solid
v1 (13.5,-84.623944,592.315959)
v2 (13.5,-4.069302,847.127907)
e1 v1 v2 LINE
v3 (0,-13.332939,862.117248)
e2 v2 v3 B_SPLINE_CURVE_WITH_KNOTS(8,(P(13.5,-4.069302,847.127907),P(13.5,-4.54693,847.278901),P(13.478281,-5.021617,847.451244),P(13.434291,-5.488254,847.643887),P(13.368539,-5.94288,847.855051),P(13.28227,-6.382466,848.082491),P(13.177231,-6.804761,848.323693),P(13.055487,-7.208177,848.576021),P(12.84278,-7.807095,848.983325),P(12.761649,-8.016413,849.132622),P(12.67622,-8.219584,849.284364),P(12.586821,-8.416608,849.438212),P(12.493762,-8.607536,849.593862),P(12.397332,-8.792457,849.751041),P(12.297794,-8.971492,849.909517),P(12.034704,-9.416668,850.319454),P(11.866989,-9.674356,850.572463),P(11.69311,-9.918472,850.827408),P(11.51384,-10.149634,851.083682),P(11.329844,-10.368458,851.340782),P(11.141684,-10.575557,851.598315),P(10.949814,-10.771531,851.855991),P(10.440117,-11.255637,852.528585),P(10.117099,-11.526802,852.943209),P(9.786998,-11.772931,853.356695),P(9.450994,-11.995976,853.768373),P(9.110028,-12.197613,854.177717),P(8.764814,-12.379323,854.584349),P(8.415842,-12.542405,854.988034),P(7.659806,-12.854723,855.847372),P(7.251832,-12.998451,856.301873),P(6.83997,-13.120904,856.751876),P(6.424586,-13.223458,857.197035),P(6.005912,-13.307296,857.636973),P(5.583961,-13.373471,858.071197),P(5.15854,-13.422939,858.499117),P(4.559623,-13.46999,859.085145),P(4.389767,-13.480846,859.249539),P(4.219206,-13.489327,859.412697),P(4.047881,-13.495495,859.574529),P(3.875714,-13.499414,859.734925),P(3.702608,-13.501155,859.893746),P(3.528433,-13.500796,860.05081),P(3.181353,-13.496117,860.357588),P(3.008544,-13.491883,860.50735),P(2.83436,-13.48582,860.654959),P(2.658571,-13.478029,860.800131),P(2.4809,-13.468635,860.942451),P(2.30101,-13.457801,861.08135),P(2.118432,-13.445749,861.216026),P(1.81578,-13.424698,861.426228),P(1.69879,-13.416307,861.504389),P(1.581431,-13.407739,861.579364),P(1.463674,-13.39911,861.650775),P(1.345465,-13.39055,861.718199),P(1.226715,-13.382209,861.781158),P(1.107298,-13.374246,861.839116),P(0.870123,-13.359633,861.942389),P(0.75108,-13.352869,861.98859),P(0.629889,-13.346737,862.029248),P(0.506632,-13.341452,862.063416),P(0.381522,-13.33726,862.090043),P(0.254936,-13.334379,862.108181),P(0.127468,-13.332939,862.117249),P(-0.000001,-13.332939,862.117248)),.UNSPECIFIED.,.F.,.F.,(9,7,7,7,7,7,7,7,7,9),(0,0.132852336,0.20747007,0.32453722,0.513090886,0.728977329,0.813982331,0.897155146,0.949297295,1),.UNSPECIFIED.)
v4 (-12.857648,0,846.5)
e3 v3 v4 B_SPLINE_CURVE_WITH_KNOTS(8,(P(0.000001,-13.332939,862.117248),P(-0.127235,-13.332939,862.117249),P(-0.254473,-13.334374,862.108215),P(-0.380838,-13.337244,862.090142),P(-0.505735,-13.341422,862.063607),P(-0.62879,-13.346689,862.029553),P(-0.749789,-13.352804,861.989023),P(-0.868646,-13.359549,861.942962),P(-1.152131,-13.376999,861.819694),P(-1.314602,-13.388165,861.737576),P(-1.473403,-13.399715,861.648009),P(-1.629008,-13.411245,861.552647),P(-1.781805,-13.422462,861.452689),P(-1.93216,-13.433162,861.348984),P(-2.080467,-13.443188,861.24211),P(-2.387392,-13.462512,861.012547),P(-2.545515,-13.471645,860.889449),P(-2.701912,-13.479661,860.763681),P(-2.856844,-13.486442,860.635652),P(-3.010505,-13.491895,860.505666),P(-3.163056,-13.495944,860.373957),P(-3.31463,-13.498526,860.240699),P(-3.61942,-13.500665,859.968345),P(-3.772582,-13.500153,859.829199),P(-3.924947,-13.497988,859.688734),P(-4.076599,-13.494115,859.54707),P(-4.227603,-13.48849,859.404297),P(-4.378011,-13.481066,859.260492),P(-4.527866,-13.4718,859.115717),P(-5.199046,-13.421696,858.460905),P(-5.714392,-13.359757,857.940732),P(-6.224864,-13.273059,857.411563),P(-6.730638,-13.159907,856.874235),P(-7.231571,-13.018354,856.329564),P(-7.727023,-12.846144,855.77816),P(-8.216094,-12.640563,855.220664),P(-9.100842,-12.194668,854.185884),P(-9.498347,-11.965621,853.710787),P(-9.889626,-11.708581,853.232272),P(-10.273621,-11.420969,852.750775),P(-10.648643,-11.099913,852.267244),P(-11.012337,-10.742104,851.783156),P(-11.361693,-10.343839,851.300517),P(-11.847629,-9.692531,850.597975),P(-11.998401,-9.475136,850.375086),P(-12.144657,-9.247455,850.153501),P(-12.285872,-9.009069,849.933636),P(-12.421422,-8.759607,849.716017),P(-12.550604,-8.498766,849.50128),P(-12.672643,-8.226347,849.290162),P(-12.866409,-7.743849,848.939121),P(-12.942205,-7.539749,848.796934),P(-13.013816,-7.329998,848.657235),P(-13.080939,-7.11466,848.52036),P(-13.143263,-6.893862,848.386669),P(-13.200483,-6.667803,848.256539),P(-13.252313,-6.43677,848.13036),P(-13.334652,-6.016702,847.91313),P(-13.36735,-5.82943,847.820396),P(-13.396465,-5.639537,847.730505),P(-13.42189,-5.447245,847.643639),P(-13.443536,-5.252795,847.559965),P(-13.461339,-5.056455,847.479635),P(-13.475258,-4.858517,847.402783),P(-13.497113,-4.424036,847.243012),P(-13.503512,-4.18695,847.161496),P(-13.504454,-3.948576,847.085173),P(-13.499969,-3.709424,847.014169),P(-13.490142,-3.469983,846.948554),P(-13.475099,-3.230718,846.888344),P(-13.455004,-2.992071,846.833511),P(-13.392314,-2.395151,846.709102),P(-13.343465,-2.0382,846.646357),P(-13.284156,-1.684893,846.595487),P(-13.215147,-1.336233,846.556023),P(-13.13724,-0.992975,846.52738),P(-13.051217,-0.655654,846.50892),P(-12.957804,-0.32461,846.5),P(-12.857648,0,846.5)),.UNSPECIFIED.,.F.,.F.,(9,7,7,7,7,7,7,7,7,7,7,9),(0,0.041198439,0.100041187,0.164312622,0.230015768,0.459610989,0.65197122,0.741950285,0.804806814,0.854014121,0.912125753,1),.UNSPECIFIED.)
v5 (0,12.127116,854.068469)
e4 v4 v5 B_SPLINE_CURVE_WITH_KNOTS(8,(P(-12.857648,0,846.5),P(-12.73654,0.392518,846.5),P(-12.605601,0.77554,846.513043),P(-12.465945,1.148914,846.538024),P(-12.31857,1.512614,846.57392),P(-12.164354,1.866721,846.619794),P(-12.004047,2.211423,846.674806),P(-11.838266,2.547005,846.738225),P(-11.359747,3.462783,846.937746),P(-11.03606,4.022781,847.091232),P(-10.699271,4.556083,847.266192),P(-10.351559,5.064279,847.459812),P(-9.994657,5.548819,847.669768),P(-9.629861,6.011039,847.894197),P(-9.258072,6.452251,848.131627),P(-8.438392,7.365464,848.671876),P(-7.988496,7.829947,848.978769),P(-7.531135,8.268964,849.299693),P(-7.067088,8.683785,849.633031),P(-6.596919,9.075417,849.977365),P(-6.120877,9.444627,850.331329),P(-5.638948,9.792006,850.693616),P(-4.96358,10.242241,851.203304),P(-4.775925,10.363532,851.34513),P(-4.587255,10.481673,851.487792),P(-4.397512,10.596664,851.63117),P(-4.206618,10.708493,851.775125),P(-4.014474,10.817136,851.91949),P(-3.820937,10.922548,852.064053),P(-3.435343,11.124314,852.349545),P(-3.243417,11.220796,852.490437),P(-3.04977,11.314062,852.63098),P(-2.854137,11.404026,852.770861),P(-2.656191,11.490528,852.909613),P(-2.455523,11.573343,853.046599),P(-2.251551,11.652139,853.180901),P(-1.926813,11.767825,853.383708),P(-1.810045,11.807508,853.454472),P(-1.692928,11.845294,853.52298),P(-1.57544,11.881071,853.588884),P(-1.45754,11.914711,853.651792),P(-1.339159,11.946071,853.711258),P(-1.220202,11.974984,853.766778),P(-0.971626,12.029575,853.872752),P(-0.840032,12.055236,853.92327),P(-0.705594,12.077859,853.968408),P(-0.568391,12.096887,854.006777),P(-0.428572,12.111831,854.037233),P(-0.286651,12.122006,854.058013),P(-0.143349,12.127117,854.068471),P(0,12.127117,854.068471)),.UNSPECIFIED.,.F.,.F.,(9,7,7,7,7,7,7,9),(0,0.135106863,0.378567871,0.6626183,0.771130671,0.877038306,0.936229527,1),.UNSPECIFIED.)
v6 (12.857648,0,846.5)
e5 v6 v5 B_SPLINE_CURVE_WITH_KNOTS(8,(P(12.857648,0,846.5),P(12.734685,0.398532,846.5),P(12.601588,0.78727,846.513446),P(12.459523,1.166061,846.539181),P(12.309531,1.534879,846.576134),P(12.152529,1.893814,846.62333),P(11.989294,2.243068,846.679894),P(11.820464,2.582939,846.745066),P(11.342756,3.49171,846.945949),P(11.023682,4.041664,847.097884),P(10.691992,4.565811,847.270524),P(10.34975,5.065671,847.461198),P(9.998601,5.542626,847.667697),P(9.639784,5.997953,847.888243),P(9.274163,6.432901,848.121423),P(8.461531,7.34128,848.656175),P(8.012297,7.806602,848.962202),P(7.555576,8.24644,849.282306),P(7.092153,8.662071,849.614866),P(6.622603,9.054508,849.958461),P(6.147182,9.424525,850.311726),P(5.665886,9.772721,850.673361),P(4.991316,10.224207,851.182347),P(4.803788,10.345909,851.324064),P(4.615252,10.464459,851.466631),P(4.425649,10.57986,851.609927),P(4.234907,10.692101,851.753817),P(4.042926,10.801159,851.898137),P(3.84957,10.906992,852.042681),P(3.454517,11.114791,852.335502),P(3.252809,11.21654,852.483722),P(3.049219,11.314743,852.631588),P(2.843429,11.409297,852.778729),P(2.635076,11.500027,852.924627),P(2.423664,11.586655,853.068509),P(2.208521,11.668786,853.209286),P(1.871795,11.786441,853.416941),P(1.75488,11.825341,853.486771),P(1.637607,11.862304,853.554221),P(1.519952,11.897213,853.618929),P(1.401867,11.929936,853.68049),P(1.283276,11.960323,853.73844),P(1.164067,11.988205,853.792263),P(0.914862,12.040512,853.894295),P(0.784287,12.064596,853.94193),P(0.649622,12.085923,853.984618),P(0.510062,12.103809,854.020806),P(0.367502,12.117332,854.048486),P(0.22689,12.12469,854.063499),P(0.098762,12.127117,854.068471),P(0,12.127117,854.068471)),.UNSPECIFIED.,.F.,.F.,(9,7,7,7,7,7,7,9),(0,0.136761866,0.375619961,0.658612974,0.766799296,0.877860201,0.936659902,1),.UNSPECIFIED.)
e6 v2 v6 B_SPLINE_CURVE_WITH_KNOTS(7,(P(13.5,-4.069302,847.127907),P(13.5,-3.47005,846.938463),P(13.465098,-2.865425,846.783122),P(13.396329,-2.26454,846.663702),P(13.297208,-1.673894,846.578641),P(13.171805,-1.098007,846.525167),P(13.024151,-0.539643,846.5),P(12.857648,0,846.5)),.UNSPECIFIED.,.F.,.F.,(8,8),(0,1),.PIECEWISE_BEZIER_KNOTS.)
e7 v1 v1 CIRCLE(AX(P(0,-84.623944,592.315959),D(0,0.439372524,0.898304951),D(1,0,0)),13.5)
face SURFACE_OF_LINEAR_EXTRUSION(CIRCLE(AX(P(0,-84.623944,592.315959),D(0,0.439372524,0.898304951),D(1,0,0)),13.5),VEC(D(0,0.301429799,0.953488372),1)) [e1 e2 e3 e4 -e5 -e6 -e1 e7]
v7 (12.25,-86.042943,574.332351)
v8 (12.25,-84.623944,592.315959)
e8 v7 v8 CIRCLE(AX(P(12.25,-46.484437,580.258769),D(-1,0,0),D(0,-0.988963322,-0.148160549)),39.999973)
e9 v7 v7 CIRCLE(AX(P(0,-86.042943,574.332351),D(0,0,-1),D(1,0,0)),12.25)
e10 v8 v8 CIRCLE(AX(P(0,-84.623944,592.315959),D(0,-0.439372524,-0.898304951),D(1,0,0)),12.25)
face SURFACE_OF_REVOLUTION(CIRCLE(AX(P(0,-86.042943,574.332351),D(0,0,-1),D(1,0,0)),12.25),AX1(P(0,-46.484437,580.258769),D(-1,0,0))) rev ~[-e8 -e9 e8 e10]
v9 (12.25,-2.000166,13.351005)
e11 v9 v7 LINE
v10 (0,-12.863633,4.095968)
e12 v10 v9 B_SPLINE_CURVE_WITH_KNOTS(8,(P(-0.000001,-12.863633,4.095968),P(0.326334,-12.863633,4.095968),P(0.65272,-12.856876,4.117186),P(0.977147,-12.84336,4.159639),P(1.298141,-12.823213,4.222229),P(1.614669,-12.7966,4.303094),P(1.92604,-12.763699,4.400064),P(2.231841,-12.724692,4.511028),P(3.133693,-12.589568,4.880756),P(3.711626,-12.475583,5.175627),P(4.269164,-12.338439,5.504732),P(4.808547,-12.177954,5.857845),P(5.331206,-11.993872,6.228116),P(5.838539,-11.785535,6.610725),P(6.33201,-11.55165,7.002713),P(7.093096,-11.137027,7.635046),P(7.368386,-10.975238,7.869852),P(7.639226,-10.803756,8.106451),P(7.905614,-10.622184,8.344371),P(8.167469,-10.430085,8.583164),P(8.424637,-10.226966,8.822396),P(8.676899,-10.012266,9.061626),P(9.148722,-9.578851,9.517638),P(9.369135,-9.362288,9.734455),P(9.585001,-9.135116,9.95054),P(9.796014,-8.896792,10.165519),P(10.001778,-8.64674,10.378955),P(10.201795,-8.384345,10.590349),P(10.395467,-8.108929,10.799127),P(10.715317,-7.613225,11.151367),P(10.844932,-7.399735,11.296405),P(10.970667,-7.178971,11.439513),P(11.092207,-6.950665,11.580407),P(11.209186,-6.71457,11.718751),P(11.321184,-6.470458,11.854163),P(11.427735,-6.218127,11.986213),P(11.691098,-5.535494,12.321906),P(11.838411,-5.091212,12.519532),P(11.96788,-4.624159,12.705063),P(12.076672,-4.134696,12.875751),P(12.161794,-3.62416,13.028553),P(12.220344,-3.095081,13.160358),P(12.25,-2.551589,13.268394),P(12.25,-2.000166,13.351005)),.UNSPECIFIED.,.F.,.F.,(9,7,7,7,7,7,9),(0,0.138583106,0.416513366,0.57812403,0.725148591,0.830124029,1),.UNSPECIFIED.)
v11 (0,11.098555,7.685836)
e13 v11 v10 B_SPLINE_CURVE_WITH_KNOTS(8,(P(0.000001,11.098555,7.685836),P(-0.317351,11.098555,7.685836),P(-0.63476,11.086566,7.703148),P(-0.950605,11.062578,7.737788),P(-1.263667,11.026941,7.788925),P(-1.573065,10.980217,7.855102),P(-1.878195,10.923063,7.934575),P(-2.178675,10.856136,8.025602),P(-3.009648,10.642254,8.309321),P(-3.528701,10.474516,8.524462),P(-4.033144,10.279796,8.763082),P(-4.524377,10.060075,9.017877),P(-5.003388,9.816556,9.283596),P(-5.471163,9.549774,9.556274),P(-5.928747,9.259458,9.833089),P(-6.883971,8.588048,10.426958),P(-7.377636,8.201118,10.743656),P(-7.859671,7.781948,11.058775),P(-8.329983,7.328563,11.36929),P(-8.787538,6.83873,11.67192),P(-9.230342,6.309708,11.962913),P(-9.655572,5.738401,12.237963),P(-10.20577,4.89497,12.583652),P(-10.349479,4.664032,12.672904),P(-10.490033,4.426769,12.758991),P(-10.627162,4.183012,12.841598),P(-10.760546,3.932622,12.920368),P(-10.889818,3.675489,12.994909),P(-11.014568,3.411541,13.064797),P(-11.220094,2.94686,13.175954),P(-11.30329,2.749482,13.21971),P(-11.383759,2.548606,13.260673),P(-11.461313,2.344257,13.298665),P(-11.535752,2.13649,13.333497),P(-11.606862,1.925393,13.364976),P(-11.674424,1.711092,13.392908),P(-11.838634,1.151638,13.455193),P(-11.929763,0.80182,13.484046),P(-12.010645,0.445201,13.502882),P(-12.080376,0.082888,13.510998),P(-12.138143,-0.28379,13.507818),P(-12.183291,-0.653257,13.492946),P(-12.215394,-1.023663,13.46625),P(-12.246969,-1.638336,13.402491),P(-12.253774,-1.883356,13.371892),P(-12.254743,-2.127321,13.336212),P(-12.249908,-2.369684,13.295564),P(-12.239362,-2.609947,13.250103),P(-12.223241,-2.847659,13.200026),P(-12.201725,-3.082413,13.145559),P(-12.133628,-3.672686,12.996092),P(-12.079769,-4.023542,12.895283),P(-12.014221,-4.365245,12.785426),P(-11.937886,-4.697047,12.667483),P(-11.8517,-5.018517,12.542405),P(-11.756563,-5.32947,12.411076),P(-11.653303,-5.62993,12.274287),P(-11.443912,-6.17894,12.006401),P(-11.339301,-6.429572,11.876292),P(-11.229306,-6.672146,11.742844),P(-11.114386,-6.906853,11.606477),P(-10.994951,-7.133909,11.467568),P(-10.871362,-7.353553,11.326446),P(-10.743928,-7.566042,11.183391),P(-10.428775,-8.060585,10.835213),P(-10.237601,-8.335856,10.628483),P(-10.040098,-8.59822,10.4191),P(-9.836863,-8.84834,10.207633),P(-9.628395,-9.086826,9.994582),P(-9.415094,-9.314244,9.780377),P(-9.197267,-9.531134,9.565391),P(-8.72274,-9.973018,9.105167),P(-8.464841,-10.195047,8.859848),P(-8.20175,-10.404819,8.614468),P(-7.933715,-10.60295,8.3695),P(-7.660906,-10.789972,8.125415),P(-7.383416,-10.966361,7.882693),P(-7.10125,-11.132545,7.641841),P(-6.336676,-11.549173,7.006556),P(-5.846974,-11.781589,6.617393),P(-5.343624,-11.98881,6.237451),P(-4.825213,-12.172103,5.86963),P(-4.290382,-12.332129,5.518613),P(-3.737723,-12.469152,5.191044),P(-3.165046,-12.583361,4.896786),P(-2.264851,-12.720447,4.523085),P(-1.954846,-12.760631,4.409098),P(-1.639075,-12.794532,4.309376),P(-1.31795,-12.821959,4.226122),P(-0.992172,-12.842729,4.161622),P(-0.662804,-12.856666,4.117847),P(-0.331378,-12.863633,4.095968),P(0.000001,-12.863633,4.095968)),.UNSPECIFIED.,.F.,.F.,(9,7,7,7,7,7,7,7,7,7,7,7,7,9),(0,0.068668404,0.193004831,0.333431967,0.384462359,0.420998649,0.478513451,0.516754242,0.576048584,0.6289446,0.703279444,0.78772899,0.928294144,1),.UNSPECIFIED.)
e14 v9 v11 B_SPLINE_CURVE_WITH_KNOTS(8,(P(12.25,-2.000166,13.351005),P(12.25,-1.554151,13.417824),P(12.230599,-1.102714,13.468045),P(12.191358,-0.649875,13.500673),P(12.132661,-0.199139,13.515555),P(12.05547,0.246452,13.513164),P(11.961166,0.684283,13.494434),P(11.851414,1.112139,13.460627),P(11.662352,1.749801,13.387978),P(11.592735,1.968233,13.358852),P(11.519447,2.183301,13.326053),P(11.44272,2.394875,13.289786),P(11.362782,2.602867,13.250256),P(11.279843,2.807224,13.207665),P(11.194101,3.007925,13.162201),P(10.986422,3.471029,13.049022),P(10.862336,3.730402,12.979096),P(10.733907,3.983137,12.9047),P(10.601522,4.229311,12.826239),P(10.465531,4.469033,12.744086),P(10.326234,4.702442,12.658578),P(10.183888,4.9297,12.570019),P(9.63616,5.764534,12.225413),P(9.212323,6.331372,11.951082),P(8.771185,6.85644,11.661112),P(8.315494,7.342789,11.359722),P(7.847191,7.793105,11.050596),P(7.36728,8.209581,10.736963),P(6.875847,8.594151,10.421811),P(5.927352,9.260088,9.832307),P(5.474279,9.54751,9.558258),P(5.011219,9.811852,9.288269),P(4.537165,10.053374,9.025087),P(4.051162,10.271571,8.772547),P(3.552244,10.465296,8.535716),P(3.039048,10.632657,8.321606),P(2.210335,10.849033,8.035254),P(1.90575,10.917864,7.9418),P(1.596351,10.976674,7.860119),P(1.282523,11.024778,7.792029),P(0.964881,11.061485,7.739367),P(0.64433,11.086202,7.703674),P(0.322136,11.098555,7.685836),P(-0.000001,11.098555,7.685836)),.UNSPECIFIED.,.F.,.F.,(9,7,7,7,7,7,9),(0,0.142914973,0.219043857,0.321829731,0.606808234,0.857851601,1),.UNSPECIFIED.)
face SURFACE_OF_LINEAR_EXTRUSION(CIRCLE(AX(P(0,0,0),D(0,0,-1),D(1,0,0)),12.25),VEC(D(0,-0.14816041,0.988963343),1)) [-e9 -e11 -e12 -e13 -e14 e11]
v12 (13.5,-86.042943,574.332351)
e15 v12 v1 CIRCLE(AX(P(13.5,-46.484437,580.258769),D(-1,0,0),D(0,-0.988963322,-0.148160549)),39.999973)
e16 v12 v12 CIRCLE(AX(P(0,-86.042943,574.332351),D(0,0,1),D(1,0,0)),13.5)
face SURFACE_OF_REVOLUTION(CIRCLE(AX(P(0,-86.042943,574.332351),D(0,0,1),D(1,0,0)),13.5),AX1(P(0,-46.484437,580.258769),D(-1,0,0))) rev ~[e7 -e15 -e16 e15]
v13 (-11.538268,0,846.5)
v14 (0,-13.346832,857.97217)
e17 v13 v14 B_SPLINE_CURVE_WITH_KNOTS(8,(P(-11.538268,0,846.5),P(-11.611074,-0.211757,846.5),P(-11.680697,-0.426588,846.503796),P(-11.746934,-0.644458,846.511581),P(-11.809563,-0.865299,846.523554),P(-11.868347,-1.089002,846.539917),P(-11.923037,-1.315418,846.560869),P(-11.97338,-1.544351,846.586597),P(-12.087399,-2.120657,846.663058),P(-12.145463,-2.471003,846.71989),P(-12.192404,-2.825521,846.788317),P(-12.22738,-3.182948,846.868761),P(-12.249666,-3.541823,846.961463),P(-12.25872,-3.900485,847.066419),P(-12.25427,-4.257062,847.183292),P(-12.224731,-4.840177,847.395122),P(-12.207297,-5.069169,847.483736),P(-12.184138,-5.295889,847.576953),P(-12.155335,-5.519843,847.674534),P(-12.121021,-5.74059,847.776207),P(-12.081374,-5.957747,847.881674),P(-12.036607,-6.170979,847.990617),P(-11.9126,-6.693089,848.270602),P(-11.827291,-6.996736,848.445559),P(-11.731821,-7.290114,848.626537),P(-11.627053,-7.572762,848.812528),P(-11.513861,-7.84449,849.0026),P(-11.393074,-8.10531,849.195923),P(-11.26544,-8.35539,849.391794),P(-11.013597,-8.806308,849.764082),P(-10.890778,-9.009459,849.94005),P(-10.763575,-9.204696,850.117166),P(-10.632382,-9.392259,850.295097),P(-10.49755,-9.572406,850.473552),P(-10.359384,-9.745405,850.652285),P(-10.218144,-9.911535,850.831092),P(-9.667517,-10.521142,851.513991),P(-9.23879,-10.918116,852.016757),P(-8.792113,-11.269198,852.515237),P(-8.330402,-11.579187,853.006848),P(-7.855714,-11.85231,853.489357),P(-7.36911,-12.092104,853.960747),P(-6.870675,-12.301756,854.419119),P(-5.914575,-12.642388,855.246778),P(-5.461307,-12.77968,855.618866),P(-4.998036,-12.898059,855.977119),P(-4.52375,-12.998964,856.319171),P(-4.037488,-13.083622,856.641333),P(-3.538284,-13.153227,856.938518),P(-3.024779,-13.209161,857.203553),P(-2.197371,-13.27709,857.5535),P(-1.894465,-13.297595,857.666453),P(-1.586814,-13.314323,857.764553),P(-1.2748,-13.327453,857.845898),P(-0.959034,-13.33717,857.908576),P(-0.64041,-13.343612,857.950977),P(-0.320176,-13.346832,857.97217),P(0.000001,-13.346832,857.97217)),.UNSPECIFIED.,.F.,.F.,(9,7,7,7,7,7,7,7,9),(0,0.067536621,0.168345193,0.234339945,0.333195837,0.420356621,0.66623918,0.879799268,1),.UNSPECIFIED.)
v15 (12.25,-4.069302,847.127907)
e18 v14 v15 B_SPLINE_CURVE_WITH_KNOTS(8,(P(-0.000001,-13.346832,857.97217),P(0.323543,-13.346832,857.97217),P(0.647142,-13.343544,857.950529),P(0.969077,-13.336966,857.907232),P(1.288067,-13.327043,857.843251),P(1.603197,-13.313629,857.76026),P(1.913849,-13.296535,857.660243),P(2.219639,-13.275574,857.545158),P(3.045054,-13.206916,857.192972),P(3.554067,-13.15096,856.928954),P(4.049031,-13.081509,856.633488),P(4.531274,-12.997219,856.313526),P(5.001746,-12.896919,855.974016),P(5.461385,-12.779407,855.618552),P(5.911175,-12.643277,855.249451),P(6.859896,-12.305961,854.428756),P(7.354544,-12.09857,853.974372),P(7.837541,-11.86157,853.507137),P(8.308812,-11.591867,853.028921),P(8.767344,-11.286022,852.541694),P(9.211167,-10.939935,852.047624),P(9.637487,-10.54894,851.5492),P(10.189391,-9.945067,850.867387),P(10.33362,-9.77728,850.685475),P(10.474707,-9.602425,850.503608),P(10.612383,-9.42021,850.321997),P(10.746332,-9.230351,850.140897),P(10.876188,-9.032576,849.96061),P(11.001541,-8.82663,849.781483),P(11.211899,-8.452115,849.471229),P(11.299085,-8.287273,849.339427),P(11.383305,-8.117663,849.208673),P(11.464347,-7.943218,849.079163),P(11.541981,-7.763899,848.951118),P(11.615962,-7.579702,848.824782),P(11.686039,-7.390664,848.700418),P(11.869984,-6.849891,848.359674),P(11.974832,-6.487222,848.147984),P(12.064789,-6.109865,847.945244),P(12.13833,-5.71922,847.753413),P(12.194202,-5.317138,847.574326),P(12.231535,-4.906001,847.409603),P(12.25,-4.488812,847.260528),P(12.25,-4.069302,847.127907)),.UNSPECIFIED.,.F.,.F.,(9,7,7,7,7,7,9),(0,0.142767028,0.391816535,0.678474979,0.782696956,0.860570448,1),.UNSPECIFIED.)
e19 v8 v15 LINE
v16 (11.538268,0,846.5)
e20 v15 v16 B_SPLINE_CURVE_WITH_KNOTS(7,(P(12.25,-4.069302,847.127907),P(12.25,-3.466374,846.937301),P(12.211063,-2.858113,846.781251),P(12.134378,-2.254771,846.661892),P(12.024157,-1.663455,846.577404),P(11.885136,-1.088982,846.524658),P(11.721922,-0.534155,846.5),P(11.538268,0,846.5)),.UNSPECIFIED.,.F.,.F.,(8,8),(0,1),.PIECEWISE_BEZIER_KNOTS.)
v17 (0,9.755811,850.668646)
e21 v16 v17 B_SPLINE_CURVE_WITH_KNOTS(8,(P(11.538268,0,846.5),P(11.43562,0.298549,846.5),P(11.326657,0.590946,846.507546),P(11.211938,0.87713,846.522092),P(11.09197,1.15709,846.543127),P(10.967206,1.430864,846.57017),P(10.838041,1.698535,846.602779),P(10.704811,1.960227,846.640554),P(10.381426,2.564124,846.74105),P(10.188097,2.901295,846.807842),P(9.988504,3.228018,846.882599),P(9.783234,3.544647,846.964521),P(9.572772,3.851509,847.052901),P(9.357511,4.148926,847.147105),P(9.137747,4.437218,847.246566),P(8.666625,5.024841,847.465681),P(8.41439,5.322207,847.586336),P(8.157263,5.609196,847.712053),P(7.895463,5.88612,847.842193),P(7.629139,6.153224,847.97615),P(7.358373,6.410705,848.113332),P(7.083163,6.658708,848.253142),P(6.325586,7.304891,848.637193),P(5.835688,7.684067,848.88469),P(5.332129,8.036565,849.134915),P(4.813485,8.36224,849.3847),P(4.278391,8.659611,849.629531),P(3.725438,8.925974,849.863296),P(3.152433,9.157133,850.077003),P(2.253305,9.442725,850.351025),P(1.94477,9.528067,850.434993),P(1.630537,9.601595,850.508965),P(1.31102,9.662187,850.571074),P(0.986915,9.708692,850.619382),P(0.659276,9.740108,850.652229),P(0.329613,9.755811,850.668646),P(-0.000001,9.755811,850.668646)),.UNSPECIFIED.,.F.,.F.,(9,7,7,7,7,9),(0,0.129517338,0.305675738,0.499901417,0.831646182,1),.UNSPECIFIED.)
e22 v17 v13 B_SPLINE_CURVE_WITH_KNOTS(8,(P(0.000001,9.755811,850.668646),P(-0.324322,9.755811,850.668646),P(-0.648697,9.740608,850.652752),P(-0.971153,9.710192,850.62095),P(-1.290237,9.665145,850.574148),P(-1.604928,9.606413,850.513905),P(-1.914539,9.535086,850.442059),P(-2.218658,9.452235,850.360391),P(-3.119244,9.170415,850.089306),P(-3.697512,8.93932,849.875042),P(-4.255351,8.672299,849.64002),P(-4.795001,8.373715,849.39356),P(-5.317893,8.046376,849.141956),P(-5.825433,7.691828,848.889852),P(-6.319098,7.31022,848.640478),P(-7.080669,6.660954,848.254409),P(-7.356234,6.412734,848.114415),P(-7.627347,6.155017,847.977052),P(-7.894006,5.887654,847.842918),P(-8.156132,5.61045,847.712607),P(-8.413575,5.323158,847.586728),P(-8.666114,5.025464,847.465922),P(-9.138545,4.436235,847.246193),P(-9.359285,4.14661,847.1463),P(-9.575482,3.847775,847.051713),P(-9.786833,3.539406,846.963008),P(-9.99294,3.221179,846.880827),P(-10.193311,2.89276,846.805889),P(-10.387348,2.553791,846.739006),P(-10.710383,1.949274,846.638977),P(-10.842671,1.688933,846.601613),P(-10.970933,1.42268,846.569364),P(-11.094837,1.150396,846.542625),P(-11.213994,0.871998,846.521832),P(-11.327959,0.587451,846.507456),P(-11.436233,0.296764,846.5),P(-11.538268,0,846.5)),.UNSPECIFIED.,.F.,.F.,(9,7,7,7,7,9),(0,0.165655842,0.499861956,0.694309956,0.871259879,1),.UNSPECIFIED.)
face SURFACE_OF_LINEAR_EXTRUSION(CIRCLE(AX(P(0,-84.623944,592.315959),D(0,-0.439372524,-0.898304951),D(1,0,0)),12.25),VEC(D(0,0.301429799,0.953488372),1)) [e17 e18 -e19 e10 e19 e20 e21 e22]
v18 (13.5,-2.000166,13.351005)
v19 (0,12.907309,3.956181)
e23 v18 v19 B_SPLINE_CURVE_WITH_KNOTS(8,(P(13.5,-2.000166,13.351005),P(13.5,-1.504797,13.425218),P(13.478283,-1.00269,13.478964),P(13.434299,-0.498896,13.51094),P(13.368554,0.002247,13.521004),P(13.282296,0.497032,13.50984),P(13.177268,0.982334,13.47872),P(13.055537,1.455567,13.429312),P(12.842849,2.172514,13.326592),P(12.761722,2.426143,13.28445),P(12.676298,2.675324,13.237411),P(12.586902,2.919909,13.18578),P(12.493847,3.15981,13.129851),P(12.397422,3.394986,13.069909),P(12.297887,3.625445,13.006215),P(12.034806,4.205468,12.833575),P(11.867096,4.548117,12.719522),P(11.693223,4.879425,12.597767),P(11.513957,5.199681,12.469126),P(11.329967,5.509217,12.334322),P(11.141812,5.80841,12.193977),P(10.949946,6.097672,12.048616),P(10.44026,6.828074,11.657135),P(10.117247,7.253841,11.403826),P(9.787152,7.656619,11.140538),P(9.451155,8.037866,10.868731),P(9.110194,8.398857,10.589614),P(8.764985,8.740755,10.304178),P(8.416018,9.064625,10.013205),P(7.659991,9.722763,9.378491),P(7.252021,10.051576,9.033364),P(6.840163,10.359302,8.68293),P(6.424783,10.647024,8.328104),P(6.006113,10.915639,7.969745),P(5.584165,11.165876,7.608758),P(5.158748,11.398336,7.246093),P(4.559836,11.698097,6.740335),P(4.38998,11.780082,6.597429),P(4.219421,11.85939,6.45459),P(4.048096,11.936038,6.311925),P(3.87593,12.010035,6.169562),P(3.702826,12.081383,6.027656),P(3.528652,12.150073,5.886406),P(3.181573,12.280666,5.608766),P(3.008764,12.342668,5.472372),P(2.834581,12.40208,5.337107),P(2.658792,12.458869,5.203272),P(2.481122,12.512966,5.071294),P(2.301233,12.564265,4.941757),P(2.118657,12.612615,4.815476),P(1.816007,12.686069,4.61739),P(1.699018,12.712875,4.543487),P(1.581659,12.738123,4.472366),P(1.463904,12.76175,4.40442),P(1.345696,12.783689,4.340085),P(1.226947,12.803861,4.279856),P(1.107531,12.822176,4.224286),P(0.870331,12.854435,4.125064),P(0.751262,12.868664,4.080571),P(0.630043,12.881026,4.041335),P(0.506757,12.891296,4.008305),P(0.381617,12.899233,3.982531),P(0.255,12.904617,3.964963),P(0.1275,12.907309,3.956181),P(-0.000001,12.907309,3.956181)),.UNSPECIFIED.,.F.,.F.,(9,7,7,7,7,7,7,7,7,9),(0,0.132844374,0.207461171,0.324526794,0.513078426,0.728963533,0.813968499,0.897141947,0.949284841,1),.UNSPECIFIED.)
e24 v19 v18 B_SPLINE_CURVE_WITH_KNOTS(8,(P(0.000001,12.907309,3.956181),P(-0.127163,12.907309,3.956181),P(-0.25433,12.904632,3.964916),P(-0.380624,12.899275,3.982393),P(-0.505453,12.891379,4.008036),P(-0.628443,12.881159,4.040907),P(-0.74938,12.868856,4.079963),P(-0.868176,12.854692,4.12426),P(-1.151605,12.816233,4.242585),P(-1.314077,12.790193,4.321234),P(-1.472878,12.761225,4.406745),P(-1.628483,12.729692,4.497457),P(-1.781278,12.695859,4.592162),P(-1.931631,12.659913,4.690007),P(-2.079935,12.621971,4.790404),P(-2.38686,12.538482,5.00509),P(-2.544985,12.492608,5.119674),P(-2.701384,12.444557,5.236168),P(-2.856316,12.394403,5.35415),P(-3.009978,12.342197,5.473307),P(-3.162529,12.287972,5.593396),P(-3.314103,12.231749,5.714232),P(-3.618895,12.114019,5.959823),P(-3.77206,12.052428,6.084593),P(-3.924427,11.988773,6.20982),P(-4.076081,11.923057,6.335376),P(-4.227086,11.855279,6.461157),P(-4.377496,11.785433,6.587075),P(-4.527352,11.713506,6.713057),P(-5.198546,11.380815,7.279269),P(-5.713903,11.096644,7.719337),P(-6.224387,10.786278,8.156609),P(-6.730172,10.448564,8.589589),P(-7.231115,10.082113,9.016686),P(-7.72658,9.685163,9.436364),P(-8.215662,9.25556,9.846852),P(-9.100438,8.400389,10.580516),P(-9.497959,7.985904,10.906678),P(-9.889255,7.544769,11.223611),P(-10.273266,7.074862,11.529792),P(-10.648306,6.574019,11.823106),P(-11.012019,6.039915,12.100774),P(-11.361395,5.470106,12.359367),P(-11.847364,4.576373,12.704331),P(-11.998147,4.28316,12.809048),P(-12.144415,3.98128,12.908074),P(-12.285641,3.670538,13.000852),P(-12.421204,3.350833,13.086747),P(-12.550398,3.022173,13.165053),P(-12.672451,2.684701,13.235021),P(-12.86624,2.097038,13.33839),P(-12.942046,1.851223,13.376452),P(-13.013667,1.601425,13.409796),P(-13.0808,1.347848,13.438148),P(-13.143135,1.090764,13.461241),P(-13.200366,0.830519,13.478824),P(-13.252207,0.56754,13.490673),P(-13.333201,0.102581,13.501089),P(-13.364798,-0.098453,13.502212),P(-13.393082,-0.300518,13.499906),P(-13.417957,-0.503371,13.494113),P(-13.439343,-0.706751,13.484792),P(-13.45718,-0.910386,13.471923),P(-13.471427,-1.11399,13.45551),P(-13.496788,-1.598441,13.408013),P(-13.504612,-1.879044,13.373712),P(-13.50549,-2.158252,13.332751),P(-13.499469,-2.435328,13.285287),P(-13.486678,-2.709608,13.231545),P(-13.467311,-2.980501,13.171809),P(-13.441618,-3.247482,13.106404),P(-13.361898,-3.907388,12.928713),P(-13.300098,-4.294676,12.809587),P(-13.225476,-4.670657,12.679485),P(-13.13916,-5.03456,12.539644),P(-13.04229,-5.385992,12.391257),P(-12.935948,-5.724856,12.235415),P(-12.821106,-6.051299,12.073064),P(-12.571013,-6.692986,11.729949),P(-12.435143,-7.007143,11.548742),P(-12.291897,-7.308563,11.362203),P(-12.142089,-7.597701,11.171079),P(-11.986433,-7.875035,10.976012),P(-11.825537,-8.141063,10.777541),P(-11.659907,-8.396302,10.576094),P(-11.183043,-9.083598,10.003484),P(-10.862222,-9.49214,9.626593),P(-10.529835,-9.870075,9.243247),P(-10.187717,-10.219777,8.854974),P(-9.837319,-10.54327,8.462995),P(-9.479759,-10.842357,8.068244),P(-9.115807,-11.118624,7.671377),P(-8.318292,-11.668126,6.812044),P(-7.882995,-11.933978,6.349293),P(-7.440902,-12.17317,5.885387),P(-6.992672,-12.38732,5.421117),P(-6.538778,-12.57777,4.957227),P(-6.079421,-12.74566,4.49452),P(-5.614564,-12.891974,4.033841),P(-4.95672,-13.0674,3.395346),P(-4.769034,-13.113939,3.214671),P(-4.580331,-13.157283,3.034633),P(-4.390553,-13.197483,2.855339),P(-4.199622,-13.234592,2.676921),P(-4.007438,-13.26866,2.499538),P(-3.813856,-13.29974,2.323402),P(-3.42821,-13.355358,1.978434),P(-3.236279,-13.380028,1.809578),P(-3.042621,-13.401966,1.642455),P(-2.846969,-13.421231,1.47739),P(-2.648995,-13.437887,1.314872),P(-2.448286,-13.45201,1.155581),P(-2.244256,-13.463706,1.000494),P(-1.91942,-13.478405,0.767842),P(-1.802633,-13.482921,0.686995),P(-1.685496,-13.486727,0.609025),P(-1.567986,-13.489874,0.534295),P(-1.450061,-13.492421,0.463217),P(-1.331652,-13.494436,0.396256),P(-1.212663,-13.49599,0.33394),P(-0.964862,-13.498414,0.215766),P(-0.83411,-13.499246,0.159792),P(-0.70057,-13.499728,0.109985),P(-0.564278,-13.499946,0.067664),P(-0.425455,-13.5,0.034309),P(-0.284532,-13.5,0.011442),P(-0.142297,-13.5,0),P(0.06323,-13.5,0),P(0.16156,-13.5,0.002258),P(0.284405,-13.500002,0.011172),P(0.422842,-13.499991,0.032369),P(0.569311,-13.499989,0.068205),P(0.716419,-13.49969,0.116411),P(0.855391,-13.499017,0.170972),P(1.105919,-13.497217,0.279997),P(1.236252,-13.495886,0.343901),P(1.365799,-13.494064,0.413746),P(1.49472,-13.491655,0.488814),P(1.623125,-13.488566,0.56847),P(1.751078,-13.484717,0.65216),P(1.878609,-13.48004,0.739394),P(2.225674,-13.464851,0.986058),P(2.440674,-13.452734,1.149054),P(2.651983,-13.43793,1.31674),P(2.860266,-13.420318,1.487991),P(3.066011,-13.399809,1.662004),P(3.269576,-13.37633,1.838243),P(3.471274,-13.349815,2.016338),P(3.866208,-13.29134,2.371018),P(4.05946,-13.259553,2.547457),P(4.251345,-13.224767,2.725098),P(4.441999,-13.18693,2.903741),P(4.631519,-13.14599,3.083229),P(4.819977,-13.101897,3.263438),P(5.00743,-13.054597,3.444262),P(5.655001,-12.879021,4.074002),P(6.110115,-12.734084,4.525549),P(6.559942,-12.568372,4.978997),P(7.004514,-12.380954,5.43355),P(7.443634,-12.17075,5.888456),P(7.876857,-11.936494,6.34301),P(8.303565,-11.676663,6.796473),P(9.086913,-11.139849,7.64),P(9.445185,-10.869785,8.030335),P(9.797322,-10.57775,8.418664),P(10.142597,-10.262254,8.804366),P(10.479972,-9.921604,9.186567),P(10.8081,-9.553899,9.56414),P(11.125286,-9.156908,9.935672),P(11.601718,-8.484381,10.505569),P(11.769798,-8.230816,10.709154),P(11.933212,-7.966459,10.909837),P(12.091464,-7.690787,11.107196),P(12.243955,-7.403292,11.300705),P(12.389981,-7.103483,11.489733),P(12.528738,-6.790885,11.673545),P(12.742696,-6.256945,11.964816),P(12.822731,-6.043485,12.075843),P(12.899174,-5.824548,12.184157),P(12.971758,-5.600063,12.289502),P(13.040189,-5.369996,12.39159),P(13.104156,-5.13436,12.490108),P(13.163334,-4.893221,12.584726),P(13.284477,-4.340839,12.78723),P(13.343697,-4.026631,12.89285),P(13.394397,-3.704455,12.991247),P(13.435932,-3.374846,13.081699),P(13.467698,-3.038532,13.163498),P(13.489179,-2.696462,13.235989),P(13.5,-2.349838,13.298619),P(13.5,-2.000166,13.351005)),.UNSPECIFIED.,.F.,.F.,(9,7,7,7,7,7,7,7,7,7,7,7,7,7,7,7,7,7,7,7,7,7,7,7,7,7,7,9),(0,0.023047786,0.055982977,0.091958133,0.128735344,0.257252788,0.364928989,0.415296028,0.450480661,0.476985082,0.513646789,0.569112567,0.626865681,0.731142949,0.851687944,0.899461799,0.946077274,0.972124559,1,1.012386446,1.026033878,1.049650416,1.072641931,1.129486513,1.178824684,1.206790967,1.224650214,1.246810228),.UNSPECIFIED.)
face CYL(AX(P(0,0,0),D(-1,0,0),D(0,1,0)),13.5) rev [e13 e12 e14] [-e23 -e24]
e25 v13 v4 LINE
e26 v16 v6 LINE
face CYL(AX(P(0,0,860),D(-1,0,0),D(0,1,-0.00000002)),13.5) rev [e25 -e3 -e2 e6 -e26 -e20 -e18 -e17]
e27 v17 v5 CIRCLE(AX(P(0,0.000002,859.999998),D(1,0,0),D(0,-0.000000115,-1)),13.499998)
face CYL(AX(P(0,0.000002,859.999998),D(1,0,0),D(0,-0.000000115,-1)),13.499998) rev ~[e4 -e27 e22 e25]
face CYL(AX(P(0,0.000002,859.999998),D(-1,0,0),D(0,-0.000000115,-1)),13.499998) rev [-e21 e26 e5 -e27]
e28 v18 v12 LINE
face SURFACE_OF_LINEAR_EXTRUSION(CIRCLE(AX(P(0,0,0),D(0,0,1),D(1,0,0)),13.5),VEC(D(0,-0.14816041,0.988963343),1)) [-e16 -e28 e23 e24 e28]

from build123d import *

# Parameters (mm, degrees)
F0_R          = 13.5
F0_R_2        = 12.25
F3_R          = 13.5
F4_DEPTH      = 25
F4_DEPTH_BACK = 25
F6_DEPTH      = 25
F6_DEPTH_BACK = 25


with BuildPart() as f2:
    # F2: sweep along a path in F1
    with BuildLine(Plane.YZ) as f2_path:
        Line((0, 0), (-86.042943, 574.332351))
        ThreePointArc((-86.042943, 574.332351), (-86.360468, 583.405192), (-84.623944, 592.315959))
        Line((-84.623944, 592.315959), (0, 860))
    # F0 (on Top) → F2 (sweep)
    with BuildSketch(Plane.XY):
        Circle(F0_R)
        Circle(F0_R_2, mode=Mode.SUBTRACT)
    sweep(path=f2_path.line)

    # F3 (on Right) → F4 (cut, two sides)
    with BuildSketch(Plane.YZ) as f4_sk:
        Circle(F3_R)
    extrude(amount=F4_DEPTH, mode=Mode.SUBTRACT)
    extrude(f4_sk.sketch, amount=-F4_DEPTH_BACK, mode=Mode.SUBTRACT)

    # F5 (on Right) → F6 (cut, two sides)
    with BuildSketch(Plane.YZ) as f6_sk:
        with BuildLine():
            ThreePointArc((0, 846.5), (9.545942, 850.454058), (13.5, 860))
            ThreePointArc((13.5, 860), (-9.545942, 869.545942), (0, 846.5))
        make_face()
    extrude(amount=F6_DEPTH, mode=Mode.SUBTRACT)
    extrude(f6_sk.sketch, amount=-F6_DEPTH_BACK, mode=Mode.SUBTRACT)


solid = f2.part
